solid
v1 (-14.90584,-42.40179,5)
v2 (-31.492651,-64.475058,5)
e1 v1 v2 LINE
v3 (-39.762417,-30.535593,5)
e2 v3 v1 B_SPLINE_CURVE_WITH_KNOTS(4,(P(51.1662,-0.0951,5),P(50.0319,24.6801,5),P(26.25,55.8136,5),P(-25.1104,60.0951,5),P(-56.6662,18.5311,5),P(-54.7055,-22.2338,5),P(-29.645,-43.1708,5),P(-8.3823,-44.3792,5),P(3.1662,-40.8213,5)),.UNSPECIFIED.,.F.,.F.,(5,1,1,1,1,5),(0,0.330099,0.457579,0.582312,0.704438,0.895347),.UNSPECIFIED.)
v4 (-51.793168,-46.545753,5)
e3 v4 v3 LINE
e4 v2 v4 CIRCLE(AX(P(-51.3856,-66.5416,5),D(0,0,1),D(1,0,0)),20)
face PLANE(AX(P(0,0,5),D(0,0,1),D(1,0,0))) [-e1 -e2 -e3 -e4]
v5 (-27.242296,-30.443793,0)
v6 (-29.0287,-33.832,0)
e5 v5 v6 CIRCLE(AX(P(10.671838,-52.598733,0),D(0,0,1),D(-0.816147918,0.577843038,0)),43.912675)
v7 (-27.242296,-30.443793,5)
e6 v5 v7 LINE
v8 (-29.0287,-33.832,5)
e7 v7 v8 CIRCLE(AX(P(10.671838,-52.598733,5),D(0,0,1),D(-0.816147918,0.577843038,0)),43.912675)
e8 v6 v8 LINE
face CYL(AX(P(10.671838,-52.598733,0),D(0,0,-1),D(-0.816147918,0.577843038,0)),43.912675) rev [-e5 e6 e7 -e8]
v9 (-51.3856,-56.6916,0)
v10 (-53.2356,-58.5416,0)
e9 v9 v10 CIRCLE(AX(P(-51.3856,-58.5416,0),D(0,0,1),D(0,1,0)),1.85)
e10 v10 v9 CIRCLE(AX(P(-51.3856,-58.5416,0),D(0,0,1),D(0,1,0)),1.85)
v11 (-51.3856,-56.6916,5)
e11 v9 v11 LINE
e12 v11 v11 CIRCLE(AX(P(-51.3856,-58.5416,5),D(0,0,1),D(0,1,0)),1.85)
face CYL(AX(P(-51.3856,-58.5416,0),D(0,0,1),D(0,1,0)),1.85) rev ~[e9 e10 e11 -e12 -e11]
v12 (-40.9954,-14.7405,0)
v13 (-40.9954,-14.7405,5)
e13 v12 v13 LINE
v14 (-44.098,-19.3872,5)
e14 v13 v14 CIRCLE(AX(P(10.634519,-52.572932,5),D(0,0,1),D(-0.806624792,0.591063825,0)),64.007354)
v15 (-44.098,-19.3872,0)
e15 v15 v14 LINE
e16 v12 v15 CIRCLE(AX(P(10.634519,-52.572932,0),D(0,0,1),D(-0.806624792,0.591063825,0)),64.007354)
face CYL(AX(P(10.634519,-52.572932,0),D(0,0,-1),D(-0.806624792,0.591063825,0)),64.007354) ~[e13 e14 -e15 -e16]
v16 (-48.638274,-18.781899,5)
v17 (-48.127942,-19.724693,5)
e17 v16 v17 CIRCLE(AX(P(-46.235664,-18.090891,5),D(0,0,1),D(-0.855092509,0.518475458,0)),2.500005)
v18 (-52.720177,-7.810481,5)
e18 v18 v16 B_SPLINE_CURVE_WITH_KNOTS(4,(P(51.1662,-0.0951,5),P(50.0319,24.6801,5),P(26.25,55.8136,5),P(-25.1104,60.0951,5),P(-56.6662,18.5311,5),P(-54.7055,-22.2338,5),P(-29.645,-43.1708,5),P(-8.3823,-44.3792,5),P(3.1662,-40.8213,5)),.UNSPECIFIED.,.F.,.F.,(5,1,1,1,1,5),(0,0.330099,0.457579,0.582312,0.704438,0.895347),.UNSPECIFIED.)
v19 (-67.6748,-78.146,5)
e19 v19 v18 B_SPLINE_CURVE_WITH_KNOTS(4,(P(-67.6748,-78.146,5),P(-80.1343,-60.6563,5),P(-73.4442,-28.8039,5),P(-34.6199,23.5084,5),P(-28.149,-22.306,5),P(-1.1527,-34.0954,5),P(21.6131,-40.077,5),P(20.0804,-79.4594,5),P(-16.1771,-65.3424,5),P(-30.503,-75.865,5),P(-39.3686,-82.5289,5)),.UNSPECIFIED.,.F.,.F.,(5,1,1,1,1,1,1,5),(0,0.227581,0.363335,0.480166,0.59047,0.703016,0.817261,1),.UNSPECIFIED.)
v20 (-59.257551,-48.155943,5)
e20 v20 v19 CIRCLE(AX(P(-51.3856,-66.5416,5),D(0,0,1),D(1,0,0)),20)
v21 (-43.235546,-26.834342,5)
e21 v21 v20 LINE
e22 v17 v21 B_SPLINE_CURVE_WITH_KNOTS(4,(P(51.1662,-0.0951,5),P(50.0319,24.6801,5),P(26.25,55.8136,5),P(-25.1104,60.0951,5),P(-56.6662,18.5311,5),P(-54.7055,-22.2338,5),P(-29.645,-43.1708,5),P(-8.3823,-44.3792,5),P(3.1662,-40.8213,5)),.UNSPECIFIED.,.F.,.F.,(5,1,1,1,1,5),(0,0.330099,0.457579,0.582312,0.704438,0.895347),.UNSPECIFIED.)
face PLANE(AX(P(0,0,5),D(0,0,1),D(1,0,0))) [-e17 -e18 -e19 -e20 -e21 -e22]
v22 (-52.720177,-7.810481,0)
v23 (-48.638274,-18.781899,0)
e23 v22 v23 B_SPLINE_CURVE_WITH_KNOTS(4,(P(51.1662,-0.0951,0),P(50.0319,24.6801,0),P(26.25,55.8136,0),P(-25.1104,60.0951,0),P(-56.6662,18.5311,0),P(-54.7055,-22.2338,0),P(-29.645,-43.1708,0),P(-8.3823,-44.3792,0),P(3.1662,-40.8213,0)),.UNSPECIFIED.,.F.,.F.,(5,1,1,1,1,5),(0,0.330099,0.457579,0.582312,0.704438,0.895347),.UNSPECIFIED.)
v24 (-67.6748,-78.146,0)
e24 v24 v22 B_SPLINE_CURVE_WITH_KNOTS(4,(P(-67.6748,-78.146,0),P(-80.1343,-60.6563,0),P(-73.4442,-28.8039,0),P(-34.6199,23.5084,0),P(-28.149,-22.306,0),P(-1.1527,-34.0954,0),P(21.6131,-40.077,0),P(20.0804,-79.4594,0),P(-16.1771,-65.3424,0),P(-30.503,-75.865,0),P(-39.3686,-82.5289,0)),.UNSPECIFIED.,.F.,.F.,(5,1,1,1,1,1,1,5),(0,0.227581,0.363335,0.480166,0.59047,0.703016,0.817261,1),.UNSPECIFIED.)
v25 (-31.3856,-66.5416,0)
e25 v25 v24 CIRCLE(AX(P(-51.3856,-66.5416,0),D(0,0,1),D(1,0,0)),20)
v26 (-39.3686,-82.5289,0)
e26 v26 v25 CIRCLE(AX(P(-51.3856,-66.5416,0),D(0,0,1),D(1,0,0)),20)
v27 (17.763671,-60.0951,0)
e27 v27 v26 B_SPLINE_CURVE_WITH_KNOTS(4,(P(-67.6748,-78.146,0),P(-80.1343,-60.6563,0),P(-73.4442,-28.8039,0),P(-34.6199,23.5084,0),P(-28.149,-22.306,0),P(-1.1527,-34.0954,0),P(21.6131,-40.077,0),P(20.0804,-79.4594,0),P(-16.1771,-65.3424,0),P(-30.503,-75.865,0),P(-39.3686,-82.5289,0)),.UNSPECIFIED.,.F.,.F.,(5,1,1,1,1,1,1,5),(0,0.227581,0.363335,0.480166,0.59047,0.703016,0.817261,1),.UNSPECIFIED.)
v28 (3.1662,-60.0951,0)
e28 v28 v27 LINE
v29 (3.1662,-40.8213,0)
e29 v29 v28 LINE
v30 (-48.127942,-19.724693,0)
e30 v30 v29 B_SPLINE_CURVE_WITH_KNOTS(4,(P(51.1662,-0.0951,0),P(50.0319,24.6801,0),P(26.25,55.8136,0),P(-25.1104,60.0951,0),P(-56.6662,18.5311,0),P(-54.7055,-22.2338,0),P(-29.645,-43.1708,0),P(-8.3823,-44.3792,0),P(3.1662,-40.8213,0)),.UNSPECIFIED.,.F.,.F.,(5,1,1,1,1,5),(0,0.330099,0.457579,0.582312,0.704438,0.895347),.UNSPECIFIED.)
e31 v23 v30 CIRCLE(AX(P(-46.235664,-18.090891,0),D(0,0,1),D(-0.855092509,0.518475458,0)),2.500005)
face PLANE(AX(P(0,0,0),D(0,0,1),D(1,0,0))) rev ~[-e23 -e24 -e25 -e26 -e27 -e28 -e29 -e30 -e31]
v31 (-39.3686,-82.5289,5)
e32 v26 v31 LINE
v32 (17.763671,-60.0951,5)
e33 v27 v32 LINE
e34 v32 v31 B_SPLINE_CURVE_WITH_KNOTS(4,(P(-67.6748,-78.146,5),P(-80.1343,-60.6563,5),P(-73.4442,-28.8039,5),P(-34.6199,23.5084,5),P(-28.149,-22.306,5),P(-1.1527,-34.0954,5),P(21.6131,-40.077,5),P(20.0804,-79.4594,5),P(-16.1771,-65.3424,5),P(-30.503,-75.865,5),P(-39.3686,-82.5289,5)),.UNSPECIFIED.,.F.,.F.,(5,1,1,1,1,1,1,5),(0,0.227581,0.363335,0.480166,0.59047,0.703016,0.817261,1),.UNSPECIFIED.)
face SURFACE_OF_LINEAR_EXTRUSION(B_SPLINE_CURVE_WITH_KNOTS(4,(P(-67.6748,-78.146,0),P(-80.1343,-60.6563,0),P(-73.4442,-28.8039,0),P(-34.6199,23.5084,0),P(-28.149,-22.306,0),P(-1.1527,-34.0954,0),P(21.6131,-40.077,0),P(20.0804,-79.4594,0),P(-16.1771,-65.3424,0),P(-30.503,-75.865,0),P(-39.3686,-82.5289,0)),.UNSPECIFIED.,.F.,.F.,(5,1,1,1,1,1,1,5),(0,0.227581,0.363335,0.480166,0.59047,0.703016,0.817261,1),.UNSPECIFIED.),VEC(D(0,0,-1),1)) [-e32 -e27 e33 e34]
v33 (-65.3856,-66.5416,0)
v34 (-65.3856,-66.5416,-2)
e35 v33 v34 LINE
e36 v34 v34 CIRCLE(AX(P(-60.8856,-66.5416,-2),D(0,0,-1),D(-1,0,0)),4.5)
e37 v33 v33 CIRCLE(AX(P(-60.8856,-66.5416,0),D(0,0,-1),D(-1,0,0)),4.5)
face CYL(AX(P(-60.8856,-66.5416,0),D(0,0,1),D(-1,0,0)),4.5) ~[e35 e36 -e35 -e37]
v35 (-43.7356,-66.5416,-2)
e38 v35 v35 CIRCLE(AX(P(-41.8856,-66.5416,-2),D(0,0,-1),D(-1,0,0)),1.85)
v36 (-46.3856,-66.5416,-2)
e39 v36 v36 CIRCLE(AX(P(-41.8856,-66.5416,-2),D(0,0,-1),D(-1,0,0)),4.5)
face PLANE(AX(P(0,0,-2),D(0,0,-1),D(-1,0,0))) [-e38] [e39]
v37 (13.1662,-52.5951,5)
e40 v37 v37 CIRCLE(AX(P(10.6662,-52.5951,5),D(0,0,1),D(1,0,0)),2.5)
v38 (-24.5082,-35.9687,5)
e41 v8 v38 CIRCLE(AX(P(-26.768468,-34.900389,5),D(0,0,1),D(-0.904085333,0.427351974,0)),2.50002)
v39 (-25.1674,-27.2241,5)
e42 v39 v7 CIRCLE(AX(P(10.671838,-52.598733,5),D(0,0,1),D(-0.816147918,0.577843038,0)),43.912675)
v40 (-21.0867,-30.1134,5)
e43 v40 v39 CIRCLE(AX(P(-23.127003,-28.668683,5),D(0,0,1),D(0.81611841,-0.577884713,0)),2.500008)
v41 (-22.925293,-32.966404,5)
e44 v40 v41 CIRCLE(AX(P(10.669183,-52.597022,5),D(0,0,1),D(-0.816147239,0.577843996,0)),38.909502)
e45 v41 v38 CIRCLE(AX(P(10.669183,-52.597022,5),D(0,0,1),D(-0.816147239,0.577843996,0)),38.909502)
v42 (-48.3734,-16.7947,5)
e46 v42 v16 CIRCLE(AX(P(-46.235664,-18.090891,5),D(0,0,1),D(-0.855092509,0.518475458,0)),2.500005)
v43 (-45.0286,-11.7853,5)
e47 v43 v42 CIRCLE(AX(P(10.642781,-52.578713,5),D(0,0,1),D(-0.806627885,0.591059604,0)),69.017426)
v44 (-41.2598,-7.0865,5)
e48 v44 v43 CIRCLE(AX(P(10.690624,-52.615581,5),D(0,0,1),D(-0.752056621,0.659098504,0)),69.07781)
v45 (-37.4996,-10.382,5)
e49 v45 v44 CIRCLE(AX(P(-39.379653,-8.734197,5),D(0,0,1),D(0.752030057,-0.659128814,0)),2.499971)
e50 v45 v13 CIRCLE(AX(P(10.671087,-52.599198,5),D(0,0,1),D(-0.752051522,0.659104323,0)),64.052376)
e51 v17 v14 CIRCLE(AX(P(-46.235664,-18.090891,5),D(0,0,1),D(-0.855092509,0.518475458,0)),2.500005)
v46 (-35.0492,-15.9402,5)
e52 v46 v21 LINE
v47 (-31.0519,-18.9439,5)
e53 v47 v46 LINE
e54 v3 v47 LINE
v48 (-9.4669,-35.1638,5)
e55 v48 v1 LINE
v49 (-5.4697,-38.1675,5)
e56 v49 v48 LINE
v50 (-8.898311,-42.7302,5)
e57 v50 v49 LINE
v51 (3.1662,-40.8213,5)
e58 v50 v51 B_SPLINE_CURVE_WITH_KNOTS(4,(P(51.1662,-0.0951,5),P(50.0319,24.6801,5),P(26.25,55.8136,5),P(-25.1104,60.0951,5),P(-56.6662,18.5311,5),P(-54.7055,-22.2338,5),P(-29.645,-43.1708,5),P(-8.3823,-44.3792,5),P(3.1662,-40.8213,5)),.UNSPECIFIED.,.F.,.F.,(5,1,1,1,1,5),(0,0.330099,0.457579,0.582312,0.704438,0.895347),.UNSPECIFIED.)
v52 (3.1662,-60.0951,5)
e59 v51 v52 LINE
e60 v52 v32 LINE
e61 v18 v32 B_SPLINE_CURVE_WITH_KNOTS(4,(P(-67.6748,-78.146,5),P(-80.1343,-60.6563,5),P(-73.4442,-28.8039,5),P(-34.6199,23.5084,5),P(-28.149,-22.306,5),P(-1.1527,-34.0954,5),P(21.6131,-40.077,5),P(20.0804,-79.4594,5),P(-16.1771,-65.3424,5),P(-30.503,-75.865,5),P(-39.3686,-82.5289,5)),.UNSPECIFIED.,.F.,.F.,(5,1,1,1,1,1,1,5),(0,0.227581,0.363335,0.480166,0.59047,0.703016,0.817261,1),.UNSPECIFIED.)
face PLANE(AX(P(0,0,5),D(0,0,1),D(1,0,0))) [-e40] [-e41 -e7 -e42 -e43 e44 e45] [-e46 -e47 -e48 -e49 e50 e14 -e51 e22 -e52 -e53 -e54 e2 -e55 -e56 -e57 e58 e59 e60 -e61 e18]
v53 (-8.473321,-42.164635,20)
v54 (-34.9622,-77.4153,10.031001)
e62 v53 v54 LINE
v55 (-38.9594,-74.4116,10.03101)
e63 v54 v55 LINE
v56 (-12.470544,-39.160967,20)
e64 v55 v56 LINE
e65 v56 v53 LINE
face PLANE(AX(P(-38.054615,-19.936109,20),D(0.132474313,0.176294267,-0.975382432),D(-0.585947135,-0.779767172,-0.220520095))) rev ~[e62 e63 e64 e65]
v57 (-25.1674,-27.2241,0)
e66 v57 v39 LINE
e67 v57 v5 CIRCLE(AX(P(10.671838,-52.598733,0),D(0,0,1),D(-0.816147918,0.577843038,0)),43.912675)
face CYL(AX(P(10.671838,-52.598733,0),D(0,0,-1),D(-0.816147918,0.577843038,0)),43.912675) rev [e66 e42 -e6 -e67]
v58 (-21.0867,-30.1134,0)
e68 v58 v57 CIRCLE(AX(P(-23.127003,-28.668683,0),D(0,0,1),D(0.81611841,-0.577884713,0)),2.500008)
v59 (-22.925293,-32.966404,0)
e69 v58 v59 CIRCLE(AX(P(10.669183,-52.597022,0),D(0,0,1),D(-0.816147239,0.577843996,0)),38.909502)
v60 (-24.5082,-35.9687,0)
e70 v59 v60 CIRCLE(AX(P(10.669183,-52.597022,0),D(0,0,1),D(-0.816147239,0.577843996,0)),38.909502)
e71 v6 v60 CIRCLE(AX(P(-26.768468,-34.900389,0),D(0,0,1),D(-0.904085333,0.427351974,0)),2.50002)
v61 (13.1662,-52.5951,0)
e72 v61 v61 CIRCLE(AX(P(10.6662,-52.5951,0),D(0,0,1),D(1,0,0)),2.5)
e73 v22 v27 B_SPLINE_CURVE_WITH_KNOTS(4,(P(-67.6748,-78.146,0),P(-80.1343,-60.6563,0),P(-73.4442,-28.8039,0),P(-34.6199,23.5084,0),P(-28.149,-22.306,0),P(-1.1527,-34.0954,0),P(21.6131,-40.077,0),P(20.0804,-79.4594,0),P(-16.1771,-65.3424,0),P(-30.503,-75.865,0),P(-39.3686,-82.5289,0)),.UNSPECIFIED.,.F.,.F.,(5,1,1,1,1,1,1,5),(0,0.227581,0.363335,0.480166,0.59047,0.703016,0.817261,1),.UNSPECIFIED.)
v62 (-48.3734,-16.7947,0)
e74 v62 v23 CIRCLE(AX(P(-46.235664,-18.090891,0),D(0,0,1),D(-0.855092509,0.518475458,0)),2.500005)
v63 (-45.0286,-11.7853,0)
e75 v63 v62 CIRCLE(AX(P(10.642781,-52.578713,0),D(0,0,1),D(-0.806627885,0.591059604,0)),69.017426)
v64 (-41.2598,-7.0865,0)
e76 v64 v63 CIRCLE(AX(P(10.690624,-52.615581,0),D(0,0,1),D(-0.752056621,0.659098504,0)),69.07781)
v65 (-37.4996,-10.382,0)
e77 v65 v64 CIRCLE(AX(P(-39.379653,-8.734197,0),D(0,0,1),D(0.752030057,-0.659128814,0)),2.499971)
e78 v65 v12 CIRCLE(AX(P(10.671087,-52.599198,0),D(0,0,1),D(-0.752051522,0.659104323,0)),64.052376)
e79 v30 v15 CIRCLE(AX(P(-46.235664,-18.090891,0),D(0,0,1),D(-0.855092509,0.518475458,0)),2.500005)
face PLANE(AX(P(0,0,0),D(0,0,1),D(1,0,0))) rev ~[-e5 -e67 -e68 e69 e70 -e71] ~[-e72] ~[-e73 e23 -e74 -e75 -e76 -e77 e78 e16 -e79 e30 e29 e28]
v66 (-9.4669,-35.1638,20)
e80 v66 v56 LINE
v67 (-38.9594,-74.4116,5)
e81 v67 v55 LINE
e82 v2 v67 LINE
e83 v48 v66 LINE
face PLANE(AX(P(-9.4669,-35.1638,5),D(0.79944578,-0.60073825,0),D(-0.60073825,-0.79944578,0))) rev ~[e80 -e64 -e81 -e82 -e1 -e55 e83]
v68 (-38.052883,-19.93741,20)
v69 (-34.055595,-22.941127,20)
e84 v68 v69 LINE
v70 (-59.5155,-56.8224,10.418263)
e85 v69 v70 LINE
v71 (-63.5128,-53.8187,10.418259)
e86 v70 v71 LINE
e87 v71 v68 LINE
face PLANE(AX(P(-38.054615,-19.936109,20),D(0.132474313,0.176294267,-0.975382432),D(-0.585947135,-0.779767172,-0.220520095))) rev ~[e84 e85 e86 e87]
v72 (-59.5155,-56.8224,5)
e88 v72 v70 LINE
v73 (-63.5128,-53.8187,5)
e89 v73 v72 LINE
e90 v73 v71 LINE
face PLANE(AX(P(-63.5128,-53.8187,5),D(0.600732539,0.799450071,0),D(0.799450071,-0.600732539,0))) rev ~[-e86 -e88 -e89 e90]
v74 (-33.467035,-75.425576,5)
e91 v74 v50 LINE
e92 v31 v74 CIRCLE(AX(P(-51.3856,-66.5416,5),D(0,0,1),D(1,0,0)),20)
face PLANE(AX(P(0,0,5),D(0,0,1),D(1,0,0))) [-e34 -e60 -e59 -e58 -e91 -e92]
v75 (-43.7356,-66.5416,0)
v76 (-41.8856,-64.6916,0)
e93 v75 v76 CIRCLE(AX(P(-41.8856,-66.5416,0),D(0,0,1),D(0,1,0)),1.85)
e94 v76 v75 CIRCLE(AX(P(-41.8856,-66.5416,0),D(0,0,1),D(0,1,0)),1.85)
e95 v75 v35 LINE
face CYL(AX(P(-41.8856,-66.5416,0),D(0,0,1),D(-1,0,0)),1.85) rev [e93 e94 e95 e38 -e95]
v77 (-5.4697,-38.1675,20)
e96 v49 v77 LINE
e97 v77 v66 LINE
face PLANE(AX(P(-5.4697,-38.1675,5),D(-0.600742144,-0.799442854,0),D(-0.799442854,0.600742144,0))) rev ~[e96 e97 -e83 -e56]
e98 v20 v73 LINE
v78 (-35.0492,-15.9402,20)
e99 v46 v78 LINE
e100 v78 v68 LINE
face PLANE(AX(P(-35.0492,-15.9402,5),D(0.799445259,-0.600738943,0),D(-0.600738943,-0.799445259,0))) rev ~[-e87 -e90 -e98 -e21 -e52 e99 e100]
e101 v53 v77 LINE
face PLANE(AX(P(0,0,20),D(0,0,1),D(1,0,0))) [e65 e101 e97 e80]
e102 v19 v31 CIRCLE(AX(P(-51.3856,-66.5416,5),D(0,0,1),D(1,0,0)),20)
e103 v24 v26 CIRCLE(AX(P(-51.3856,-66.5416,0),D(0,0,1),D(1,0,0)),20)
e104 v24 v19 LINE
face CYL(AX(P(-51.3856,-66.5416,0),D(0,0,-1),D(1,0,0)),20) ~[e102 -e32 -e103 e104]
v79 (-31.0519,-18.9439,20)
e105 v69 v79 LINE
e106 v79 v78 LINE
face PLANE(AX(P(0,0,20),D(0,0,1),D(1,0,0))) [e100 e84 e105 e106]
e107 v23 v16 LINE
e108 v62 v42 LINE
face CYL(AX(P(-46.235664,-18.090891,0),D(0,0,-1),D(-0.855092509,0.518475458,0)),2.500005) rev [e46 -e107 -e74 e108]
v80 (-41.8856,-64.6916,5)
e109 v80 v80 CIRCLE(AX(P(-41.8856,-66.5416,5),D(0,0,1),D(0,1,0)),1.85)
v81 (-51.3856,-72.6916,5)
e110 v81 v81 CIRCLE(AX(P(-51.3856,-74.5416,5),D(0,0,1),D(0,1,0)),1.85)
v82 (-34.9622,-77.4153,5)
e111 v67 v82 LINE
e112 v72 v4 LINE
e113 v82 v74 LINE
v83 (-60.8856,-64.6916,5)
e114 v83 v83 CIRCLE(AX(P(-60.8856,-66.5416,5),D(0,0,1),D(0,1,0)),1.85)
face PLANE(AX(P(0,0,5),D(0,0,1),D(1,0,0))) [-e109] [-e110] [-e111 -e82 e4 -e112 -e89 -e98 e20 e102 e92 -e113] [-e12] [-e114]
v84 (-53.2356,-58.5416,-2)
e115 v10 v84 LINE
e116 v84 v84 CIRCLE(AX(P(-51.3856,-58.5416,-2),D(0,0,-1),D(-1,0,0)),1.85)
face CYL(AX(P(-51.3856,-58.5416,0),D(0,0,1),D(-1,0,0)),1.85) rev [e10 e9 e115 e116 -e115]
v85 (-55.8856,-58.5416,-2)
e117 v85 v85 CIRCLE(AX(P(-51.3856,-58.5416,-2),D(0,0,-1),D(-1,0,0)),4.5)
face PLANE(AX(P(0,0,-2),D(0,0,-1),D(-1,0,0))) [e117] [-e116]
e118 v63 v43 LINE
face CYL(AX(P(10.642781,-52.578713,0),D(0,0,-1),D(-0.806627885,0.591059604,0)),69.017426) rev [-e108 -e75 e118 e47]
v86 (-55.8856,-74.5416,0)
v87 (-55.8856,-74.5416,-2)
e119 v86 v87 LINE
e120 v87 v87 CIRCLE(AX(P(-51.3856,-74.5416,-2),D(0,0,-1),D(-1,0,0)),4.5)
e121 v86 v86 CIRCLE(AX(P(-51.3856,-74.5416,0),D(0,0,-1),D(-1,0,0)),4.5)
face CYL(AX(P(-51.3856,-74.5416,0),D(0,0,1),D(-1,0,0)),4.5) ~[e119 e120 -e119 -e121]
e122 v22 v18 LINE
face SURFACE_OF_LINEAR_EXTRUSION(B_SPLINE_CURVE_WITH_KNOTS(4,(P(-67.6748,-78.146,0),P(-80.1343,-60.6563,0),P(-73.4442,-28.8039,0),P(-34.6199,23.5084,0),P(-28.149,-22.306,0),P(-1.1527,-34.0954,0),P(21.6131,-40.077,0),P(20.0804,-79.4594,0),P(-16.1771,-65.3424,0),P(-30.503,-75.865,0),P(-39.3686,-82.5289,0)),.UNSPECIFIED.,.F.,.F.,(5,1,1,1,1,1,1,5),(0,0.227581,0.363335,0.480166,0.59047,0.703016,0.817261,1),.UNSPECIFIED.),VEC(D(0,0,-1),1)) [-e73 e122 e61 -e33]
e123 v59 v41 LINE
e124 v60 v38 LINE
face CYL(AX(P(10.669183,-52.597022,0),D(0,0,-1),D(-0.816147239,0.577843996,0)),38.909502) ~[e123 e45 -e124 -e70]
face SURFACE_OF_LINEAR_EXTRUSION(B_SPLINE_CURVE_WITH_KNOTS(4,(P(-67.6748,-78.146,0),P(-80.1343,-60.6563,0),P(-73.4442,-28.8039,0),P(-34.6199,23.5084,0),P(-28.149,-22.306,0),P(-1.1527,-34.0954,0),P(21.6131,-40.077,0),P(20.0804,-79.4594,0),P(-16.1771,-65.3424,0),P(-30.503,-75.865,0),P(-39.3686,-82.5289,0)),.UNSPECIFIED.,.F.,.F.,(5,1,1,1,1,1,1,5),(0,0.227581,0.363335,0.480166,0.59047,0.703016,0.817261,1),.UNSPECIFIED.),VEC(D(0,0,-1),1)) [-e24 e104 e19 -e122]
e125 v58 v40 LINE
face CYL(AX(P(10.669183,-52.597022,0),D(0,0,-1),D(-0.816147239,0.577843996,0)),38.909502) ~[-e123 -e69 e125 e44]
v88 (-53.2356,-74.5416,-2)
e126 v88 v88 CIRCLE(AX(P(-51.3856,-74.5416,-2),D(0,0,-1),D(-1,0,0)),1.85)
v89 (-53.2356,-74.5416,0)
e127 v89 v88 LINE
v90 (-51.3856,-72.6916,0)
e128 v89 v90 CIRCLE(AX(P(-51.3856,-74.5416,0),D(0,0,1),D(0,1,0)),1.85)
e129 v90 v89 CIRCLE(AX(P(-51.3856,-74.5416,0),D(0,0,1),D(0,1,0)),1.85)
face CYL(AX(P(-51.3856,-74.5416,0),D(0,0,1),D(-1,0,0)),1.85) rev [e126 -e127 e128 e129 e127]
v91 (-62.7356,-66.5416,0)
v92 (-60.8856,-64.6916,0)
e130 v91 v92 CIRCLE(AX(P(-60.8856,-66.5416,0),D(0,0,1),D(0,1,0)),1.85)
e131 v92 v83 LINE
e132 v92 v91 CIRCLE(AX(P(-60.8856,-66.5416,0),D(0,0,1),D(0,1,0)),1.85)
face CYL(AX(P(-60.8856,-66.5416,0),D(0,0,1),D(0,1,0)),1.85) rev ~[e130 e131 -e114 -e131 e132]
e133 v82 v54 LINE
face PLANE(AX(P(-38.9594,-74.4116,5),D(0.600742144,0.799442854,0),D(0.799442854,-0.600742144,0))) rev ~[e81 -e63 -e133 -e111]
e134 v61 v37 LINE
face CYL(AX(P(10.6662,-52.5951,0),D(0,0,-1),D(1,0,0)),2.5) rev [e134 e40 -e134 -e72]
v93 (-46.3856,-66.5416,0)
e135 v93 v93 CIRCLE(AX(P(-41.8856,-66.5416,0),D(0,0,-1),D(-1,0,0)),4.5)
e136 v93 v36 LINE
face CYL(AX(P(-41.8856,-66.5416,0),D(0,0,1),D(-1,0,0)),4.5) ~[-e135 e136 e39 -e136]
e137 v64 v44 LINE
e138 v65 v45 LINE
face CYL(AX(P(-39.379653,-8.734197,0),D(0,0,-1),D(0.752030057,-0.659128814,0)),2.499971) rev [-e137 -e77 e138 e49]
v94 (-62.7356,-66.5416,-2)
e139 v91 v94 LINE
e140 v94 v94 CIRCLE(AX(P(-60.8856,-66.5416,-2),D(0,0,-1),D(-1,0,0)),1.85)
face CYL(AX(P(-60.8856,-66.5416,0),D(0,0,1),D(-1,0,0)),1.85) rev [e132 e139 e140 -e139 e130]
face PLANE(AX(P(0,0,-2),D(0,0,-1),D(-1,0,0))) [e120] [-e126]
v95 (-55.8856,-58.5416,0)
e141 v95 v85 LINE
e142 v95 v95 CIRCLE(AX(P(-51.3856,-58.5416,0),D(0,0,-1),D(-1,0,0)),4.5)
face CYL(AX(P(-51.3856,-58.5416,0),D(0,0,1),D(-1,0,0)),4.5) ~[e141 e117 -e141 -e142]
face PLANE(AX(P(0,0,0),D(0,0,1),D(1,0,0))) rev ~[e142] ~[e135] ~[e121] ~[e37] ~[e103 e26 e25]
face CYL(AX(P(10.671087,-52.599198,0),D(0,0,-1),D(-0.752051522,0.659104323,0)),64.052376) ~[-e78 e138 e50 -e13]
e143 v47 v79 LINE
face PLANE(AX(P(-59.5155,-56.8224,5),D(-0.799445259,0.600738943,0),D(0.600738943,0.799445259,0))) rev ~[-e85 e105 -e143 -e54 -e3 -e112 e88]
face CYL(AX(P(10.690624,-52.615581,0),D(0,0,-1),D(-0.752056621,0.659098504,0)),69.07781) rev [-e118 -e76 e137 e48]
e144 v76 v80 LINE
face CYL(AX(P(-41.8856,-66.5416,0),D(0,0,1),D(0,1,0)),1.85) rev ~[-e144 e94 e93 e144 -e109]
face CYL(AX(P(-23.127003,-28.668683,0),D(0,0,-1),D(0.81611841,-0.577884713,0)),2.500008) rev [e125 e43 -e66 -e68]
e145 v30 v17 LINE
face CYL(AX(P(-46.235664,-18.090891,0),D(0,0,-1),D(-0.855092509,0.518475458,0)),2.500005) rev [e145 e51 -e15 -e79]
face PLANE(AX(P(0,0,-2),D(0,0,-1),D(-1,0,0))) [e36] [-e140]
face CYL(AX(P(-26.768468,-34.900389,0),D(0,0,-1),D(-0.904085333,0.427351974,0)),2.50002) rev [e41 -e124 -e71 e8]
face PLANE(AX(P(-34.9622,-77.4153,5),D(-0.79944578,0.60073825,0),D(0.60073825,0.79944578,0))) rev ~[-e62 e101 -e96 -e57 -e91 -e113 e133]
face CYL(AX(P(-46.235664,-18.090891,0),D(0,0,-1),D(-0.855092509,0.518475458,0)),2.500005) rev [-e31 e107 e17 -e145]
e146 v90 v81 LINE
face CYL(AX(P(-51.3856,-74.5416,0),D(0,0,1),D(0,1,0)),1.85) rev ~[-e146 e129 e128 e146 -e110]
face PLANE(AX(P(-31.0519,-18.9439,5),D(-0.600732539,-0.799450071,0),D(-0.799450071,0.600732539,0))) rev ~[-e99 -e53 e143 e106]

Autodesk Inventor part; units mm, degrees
ref_plane "YZ Plane" through (0, 0, 0) normal (1, 0, 0) x (0, 1, 0)
ref_plane "XZ Plane" through (0, 0, 0) normal (0, 1, 0) x (-1, 0, 0)
ref_plane "XY Plane" through (0, 0, 0) normal (0, 0, 1) x (1, 0, 0)
ref_plane "Work Plane1" through (0, 0, 0) normal (0, 0, 1) x (1, 0, 0)
sketch "Sketch1" plane through (0, 0, 0) normal (0, 0, 1) x (1, 0, 0)
  circle A0 centre (-25.0838, -31.7051) radius 2.5 projected
  circle A1 centre (-43.012, -13.2629) radius 2.5 projected
  circle A2 centre (-44.8914, 13.7567) radius 2.5 projected
  circle A3 centre (-28.0838, 36.7109) radius 2.5 projected
  circle A4 centre (0.8935, 43.7288) radius 2.5 projected
  circle A5 centre (29.5533, 30.4373) radius 2.5 projected
  circle A6 centre (43.6662, -0.0951) radius 2.5 projected
  circle A7 centre (47.6662, -52.5951) radius 2.5 projected
  circle A8 centre (10.6662, -52.5951) radius 2.5 projected
  circle A9 centre (-6.8338, -0.0951) radius 8.75 projected
  line L0 (56.6662, -60.0951) -> (51.1662, -0.0951) projected
  spline S0 degree 4 poles (51.1662, -0.0951) (50.0319, 24.6801) (26.25, 55.8136) (-25.1104, 60.0951) (-56.6662, 18.5311) (-54.7055, -22.2338) (-29.645, -43.1708) (-8.3823, -44.3792) (3.1662, -40.8213) knots 0 0 0 0 0 0.330099 0.457579 0.582312 0.704438 0.895347 0.895347 0.895347 0.895347 0.895347 projected
  line L1 (3.1662, -40.8213) -> (3.1662, -60.0951) projected
  line L2 (3.1662, -60.0951) -> (56.6662, -60.0951) projected
  circle A10 centre (-6.8338, -0.0951) radius 80 construction
  circle A11 centre (-51.3856, -66.5416) radius 20
  spline S1 degree 4 poles (-67.6748, -78.146) (-80.1343, -60.6563) (-73.4442, -28.8039) (-34.6199, 23.5084) (-28.149, -22.306) (-1.1527, -34.0954) (21.6131, -40.077) (20.0804, -79.4594) (-16.1771, -65.3424) (-30.503, -75.865) (-39.3686, -82.5289) knots 0 0 0 0 0 0.227581 0.363335 0.480166 0.59047 0.703016 0.817261 1 1 1 1 1
  line L3 (10.6662, -52.5951) -> (-43.012, -13.2629) construction
  line L4 (-25.0838, -31.7051) -> (10.6662, -52.5951) construction
  line L5 (10.6662, -52.5951) -> (-42.0733, -6.3735) construction
  line L6 (10.6662, -52.5951) -> (-49.6403, -16.0265) construction
  arc A12 (-37.4996, -10.382) -> (-40.9954, -14.7405) centre (10.6662, -52.5951) ccw
  arc A13 (-40.9954, -14.7405) -> (-44.098, -19.3872) centre (10.6662, -52.5951) ccw
  arc A14 (-41.2598, -7.0865) -> (-45.0286, -11.7853) centre (10.6662, -52.5951) ccw
  arc A15 (-45.0286, -11.7853) -> (-48.3734, -16.7947) centre (10.6662, -52.5951) ccw
  arc A16 (-37.4996, -10.382) -> (-41.2598, -7.0865) centre (-39.3797, -8.7342) ccw
  arc A17 (-48.3734, -16.7947) -> (-44.098, -19.3872) centre (-46.2357, -18.0909) ccw
  line L7 (10.6662, -52.5951) -> (-30.2455, -33.2568) construction
  line L8 (10.6662, -52.5951) -> (-26.0132, -26.6253) construction
  arc A18 (-21.0867, -30.1134) -> (-24.5082, -35.9687) centre (10.6662, -52.5951) ccw
  arc A19 (-25.1674, -27.2241) -> (-29.0287, -33.832) centre (10.6662, -52.5951) ccw
  arc A20 (-21.0867, -30.1134) -> (-25.1674, -27.2241) centre (-23.1271, -28.6687) ccw
  arc A21 (-29.0287, -33.832) -> (-24.5082, -35.9687) centre (-26.7685, -34.9004) ccw
  point P0 (0, 0)
  point P1 (-60.5912, -17.8314)
  point P2 (-36.7792, -0.096)
  point P3 (-23.1279, -18.1974)
  point P4 (0.0342, -33.7731)
  point P5 (16.7837, -45.8922)
  point P6 (15.1081, -64.5601)
  point P7 (-10.6842, -70.5676)
  point P8 (-45.0286, -11.7853)
  point P9 (-21.0867, -30.1134)
  dimension "d0" = 160
  dimension "d1" = 40
  dimension "d2" = 5
  dimension "d3" = 5
  dimension "d4" = 2.5
  dimension "d5" = 5
  dimension "d6" = 5
extrude "Extrusion1" add sketch "Sketch1" along normal blind 5 contours A15 A17 S0 S1 L2 L1 A13 A12 A16 A14 | A11 | A17 S0 L1 L2 S1 A11
sketch "Sketch2" plane through (0, 0, 0) normal (0, 0, -1) x (-1, 0, 0)
  arc A0 (39.3686, -82.5289) -> (67.6748, -78.146) centre (51.3856, -66.5416) ccw projected
  circle A1 centre (51.3856, -66.5416) radius 8 construction
  circle A2 centre (51.3856, -66.5416) radius 9.5 construction
  point P0 (0, 0)
  point P1 (60.8856, -66.5416)
  point P2 (41.8856, -66.5416)
  point P3 (51.3856, -74.5416)
  point P4 (51.3856, -58.5416)
  dimension "d9" = 16
  dimension "d10" = 19
hole "Hole1" at (-60.8856, -66.5416, 0) at (-41.8856, -66.5416, 0) at (-51.3856, -74.5416, 0) at (-51.3856, -58.5416, 0) direction (0, 0, 1) diameter 3.7 end through all
sketch "Sketch3" plane through (0, 0, 0) normal (0, 0, -1) x (-1, 0, 0)
  circle A0 centre (51.3856, -58.5416) radius 1.85 projected
  circle A1 centre (51.3856, -74.5416) radius 1.85 projected
  circle A2 centre (41.8856, -66.5416) radius 1.85 projected
  circle A3 centre (60.8856, -66.5416) radius 1.85 projected
  arc A4 (39.3686, -82.5289) -> (67.6748, -78.146) centre (51.3856, -66.5416) ccw projected
  arc A5 (44.098, -19.3872) -> (48.3734, -16.7947) centre (46.2357, -18.0909) ccw projected
  arc A6 (44.098, -19.3872) -> (37.4996, -10.382) centre (-10.6662, -52.5951) ccw projected
  arc A7 (41.2598, -7.0865) -> (37.4996, -10.382) centre (39.3797, -8.7342) ccw projected
  arc A8 (48.3734, -16.7947) -> (41.2598, -7.0865) centre (-10.6662, -52.5951) ccw projected
  arc A9 (25.1674, -27.2241) -> (21.0867, -30.1134) centre (23.1271, -28.6687) ccw projected
  arc A10 (29.0287, -33.832) -> (25.1674, -27.2241) centre (-10.6662, -52.5951) ccw projected
  arc A11 (24.5082, -35.9687) -> (29.0287, -33.832) centre (26.7685, -34.9004) ccw projected
  arc A12 (24.5082, -35.9687) -> (21.0867, -30.1134) centre (-10.6662, -52.5951) ccw projected
  circle A13 centre (-10.6662, -52.5951) radius 2.5 projected
  circle A14 centre (60.8856, -66.5416) radius 4.5
  circle A15 centre (51.3856, -74.5416) radius 4.5
  circle A16 centre (41.8856, -66.5416) radius 4.5
  circle A17 centre (51.3856, -58.5416) radius 4.5
  point P0 (0, 0)
  dimension "d18" = 9
  dimension "d19" = 9
  dimension "d20" = 9
  dimension "d21" = 9
extrude "Extrusion2" add sketch "Sketch3" along normal blind 2 contours A14 | A15 | A16 | A17
sketch "Sketch4" plane through (0, 0, 5) normal (0, 0, 1) x (1, 0, 0)
  circle A0 centre (-51.3856, -58.5416) radius 1.85 projected
  circle A1 centre (-51.3856, -74.5416) radius 1.85 projected
  circle A2 centre (-41.8856, -66.5416) radius 1.85 projected
  circle A3 centre (-60.8856, -66.5416) radius 1.85 projected
  arc A4 (-67.6748, -78.146) -> (-39.3686, -82.5289) centre (-51.3856, -66.5416) ccw projected
  arc A5 (-48.3734, -16.7947) -> (-44.098, -19.3872) centre (-46.2357, -18.0909) ccw projected
  arc A6 (-41.2598, -7.0865) -> (-48.3734, -16.7947) centre (10.6662, -52.5951) ccw projected
  arc A7 (-37.4996, -10.382) -> (-41.2598, -7.0865) centre (-39.3797, -8.7342) ccw projected
  arc A8 (-37.4996, -10.382) -> (-44.098, -19.3872) centre (10.6662, -52.5951) ccw projected
  arc A9 (-21.0867, -30.1134) -> (-25.1674, -27.2241) centre (-23.1271, -28.6687) ccw projected
  arc A10 (-21.0867, -30.1134) -> (-24.5082, -35.9687) centre (10.6662, -52.5951) ccw projected
  arc A11 (-29.0287, -33.832) -> (-24.5082, -35.9687) centre (-26.7685, -34.9004) ccw projected
  arc A12 (-25.1674, -27.2241) -> (-29.0287, -33.832) centre (10.6662, -52.5951) ccw projected
  circle A13 centre (10.6662, -52.5951) radius 2.5 projected
  line L0 (-35.0492, -15.9402) -> (-63.5128, -53.8187)
  line L1 (-63.5128, -53.8187) -> (-59.5155, -56.8224)
  line L2 (-59.5155, -56.8224) -> (-31.0519, -18.9439)
  line L3 (-31.0519, -18.9439) -> (-35.0492, -15.9402)
  line L4 (-9.4669, -35.1638) -> (-38.9594, -74.4116)
  line L5 (-38.9594, -74.4116) -> (-34.9622, -77.4153)
  line L6 (-34.9622, -77.4153) -> (-5.4697, -38.1675)
  line L7 (-5.4697, -38.1675) -> (-9.4669, -35.1638)
  point P0 (0, 0)
  dimension "d24" = 5
  dimension "d25" = 5
  dimension "d26" = 27
extrude "Extrusion3" add sketch "Sketch4" along normal blind 15 contours L3 L2 L1 L0 | L7 L6 L5 L4
sketch "Sketch5" plane through (-63.5128, -53.8187, 5) normal (-0.7994, 0.6007, 0) x (0, 0, 1)
  line L0 (0, 0) -> (0, 47.381) projected
  line L1 (0, 0) -> (15, 0) projected
  line L2 (15, 47.381) -> (15, 0) projected
  line L3 (0, 47.381) -> (15, 47.381) projected
  line L4 (15, 0) -> (15, 47.381) projected
  line L5 (15, 42.381) -> (5, -1.85)
  line L6 (5, -1.85) -> (0, -1.85)
  line L7 (0, -1.85) -> (0, 0)
  line L8 (15, 42.381) -> (15, -1.85)
  line L9 (15, -1.85) -> (5, -1.85)
  point P0 (-5, 81.1797)
  dimension "d29" = 5
  dimension "d30" = 5
extrude "Extrusion4" cut sketch "Sketch5" against normal blind 41.9875 contours L5 L2 L1 | L1 L8 L9 L5
properties part number "Soporte motor 2"
